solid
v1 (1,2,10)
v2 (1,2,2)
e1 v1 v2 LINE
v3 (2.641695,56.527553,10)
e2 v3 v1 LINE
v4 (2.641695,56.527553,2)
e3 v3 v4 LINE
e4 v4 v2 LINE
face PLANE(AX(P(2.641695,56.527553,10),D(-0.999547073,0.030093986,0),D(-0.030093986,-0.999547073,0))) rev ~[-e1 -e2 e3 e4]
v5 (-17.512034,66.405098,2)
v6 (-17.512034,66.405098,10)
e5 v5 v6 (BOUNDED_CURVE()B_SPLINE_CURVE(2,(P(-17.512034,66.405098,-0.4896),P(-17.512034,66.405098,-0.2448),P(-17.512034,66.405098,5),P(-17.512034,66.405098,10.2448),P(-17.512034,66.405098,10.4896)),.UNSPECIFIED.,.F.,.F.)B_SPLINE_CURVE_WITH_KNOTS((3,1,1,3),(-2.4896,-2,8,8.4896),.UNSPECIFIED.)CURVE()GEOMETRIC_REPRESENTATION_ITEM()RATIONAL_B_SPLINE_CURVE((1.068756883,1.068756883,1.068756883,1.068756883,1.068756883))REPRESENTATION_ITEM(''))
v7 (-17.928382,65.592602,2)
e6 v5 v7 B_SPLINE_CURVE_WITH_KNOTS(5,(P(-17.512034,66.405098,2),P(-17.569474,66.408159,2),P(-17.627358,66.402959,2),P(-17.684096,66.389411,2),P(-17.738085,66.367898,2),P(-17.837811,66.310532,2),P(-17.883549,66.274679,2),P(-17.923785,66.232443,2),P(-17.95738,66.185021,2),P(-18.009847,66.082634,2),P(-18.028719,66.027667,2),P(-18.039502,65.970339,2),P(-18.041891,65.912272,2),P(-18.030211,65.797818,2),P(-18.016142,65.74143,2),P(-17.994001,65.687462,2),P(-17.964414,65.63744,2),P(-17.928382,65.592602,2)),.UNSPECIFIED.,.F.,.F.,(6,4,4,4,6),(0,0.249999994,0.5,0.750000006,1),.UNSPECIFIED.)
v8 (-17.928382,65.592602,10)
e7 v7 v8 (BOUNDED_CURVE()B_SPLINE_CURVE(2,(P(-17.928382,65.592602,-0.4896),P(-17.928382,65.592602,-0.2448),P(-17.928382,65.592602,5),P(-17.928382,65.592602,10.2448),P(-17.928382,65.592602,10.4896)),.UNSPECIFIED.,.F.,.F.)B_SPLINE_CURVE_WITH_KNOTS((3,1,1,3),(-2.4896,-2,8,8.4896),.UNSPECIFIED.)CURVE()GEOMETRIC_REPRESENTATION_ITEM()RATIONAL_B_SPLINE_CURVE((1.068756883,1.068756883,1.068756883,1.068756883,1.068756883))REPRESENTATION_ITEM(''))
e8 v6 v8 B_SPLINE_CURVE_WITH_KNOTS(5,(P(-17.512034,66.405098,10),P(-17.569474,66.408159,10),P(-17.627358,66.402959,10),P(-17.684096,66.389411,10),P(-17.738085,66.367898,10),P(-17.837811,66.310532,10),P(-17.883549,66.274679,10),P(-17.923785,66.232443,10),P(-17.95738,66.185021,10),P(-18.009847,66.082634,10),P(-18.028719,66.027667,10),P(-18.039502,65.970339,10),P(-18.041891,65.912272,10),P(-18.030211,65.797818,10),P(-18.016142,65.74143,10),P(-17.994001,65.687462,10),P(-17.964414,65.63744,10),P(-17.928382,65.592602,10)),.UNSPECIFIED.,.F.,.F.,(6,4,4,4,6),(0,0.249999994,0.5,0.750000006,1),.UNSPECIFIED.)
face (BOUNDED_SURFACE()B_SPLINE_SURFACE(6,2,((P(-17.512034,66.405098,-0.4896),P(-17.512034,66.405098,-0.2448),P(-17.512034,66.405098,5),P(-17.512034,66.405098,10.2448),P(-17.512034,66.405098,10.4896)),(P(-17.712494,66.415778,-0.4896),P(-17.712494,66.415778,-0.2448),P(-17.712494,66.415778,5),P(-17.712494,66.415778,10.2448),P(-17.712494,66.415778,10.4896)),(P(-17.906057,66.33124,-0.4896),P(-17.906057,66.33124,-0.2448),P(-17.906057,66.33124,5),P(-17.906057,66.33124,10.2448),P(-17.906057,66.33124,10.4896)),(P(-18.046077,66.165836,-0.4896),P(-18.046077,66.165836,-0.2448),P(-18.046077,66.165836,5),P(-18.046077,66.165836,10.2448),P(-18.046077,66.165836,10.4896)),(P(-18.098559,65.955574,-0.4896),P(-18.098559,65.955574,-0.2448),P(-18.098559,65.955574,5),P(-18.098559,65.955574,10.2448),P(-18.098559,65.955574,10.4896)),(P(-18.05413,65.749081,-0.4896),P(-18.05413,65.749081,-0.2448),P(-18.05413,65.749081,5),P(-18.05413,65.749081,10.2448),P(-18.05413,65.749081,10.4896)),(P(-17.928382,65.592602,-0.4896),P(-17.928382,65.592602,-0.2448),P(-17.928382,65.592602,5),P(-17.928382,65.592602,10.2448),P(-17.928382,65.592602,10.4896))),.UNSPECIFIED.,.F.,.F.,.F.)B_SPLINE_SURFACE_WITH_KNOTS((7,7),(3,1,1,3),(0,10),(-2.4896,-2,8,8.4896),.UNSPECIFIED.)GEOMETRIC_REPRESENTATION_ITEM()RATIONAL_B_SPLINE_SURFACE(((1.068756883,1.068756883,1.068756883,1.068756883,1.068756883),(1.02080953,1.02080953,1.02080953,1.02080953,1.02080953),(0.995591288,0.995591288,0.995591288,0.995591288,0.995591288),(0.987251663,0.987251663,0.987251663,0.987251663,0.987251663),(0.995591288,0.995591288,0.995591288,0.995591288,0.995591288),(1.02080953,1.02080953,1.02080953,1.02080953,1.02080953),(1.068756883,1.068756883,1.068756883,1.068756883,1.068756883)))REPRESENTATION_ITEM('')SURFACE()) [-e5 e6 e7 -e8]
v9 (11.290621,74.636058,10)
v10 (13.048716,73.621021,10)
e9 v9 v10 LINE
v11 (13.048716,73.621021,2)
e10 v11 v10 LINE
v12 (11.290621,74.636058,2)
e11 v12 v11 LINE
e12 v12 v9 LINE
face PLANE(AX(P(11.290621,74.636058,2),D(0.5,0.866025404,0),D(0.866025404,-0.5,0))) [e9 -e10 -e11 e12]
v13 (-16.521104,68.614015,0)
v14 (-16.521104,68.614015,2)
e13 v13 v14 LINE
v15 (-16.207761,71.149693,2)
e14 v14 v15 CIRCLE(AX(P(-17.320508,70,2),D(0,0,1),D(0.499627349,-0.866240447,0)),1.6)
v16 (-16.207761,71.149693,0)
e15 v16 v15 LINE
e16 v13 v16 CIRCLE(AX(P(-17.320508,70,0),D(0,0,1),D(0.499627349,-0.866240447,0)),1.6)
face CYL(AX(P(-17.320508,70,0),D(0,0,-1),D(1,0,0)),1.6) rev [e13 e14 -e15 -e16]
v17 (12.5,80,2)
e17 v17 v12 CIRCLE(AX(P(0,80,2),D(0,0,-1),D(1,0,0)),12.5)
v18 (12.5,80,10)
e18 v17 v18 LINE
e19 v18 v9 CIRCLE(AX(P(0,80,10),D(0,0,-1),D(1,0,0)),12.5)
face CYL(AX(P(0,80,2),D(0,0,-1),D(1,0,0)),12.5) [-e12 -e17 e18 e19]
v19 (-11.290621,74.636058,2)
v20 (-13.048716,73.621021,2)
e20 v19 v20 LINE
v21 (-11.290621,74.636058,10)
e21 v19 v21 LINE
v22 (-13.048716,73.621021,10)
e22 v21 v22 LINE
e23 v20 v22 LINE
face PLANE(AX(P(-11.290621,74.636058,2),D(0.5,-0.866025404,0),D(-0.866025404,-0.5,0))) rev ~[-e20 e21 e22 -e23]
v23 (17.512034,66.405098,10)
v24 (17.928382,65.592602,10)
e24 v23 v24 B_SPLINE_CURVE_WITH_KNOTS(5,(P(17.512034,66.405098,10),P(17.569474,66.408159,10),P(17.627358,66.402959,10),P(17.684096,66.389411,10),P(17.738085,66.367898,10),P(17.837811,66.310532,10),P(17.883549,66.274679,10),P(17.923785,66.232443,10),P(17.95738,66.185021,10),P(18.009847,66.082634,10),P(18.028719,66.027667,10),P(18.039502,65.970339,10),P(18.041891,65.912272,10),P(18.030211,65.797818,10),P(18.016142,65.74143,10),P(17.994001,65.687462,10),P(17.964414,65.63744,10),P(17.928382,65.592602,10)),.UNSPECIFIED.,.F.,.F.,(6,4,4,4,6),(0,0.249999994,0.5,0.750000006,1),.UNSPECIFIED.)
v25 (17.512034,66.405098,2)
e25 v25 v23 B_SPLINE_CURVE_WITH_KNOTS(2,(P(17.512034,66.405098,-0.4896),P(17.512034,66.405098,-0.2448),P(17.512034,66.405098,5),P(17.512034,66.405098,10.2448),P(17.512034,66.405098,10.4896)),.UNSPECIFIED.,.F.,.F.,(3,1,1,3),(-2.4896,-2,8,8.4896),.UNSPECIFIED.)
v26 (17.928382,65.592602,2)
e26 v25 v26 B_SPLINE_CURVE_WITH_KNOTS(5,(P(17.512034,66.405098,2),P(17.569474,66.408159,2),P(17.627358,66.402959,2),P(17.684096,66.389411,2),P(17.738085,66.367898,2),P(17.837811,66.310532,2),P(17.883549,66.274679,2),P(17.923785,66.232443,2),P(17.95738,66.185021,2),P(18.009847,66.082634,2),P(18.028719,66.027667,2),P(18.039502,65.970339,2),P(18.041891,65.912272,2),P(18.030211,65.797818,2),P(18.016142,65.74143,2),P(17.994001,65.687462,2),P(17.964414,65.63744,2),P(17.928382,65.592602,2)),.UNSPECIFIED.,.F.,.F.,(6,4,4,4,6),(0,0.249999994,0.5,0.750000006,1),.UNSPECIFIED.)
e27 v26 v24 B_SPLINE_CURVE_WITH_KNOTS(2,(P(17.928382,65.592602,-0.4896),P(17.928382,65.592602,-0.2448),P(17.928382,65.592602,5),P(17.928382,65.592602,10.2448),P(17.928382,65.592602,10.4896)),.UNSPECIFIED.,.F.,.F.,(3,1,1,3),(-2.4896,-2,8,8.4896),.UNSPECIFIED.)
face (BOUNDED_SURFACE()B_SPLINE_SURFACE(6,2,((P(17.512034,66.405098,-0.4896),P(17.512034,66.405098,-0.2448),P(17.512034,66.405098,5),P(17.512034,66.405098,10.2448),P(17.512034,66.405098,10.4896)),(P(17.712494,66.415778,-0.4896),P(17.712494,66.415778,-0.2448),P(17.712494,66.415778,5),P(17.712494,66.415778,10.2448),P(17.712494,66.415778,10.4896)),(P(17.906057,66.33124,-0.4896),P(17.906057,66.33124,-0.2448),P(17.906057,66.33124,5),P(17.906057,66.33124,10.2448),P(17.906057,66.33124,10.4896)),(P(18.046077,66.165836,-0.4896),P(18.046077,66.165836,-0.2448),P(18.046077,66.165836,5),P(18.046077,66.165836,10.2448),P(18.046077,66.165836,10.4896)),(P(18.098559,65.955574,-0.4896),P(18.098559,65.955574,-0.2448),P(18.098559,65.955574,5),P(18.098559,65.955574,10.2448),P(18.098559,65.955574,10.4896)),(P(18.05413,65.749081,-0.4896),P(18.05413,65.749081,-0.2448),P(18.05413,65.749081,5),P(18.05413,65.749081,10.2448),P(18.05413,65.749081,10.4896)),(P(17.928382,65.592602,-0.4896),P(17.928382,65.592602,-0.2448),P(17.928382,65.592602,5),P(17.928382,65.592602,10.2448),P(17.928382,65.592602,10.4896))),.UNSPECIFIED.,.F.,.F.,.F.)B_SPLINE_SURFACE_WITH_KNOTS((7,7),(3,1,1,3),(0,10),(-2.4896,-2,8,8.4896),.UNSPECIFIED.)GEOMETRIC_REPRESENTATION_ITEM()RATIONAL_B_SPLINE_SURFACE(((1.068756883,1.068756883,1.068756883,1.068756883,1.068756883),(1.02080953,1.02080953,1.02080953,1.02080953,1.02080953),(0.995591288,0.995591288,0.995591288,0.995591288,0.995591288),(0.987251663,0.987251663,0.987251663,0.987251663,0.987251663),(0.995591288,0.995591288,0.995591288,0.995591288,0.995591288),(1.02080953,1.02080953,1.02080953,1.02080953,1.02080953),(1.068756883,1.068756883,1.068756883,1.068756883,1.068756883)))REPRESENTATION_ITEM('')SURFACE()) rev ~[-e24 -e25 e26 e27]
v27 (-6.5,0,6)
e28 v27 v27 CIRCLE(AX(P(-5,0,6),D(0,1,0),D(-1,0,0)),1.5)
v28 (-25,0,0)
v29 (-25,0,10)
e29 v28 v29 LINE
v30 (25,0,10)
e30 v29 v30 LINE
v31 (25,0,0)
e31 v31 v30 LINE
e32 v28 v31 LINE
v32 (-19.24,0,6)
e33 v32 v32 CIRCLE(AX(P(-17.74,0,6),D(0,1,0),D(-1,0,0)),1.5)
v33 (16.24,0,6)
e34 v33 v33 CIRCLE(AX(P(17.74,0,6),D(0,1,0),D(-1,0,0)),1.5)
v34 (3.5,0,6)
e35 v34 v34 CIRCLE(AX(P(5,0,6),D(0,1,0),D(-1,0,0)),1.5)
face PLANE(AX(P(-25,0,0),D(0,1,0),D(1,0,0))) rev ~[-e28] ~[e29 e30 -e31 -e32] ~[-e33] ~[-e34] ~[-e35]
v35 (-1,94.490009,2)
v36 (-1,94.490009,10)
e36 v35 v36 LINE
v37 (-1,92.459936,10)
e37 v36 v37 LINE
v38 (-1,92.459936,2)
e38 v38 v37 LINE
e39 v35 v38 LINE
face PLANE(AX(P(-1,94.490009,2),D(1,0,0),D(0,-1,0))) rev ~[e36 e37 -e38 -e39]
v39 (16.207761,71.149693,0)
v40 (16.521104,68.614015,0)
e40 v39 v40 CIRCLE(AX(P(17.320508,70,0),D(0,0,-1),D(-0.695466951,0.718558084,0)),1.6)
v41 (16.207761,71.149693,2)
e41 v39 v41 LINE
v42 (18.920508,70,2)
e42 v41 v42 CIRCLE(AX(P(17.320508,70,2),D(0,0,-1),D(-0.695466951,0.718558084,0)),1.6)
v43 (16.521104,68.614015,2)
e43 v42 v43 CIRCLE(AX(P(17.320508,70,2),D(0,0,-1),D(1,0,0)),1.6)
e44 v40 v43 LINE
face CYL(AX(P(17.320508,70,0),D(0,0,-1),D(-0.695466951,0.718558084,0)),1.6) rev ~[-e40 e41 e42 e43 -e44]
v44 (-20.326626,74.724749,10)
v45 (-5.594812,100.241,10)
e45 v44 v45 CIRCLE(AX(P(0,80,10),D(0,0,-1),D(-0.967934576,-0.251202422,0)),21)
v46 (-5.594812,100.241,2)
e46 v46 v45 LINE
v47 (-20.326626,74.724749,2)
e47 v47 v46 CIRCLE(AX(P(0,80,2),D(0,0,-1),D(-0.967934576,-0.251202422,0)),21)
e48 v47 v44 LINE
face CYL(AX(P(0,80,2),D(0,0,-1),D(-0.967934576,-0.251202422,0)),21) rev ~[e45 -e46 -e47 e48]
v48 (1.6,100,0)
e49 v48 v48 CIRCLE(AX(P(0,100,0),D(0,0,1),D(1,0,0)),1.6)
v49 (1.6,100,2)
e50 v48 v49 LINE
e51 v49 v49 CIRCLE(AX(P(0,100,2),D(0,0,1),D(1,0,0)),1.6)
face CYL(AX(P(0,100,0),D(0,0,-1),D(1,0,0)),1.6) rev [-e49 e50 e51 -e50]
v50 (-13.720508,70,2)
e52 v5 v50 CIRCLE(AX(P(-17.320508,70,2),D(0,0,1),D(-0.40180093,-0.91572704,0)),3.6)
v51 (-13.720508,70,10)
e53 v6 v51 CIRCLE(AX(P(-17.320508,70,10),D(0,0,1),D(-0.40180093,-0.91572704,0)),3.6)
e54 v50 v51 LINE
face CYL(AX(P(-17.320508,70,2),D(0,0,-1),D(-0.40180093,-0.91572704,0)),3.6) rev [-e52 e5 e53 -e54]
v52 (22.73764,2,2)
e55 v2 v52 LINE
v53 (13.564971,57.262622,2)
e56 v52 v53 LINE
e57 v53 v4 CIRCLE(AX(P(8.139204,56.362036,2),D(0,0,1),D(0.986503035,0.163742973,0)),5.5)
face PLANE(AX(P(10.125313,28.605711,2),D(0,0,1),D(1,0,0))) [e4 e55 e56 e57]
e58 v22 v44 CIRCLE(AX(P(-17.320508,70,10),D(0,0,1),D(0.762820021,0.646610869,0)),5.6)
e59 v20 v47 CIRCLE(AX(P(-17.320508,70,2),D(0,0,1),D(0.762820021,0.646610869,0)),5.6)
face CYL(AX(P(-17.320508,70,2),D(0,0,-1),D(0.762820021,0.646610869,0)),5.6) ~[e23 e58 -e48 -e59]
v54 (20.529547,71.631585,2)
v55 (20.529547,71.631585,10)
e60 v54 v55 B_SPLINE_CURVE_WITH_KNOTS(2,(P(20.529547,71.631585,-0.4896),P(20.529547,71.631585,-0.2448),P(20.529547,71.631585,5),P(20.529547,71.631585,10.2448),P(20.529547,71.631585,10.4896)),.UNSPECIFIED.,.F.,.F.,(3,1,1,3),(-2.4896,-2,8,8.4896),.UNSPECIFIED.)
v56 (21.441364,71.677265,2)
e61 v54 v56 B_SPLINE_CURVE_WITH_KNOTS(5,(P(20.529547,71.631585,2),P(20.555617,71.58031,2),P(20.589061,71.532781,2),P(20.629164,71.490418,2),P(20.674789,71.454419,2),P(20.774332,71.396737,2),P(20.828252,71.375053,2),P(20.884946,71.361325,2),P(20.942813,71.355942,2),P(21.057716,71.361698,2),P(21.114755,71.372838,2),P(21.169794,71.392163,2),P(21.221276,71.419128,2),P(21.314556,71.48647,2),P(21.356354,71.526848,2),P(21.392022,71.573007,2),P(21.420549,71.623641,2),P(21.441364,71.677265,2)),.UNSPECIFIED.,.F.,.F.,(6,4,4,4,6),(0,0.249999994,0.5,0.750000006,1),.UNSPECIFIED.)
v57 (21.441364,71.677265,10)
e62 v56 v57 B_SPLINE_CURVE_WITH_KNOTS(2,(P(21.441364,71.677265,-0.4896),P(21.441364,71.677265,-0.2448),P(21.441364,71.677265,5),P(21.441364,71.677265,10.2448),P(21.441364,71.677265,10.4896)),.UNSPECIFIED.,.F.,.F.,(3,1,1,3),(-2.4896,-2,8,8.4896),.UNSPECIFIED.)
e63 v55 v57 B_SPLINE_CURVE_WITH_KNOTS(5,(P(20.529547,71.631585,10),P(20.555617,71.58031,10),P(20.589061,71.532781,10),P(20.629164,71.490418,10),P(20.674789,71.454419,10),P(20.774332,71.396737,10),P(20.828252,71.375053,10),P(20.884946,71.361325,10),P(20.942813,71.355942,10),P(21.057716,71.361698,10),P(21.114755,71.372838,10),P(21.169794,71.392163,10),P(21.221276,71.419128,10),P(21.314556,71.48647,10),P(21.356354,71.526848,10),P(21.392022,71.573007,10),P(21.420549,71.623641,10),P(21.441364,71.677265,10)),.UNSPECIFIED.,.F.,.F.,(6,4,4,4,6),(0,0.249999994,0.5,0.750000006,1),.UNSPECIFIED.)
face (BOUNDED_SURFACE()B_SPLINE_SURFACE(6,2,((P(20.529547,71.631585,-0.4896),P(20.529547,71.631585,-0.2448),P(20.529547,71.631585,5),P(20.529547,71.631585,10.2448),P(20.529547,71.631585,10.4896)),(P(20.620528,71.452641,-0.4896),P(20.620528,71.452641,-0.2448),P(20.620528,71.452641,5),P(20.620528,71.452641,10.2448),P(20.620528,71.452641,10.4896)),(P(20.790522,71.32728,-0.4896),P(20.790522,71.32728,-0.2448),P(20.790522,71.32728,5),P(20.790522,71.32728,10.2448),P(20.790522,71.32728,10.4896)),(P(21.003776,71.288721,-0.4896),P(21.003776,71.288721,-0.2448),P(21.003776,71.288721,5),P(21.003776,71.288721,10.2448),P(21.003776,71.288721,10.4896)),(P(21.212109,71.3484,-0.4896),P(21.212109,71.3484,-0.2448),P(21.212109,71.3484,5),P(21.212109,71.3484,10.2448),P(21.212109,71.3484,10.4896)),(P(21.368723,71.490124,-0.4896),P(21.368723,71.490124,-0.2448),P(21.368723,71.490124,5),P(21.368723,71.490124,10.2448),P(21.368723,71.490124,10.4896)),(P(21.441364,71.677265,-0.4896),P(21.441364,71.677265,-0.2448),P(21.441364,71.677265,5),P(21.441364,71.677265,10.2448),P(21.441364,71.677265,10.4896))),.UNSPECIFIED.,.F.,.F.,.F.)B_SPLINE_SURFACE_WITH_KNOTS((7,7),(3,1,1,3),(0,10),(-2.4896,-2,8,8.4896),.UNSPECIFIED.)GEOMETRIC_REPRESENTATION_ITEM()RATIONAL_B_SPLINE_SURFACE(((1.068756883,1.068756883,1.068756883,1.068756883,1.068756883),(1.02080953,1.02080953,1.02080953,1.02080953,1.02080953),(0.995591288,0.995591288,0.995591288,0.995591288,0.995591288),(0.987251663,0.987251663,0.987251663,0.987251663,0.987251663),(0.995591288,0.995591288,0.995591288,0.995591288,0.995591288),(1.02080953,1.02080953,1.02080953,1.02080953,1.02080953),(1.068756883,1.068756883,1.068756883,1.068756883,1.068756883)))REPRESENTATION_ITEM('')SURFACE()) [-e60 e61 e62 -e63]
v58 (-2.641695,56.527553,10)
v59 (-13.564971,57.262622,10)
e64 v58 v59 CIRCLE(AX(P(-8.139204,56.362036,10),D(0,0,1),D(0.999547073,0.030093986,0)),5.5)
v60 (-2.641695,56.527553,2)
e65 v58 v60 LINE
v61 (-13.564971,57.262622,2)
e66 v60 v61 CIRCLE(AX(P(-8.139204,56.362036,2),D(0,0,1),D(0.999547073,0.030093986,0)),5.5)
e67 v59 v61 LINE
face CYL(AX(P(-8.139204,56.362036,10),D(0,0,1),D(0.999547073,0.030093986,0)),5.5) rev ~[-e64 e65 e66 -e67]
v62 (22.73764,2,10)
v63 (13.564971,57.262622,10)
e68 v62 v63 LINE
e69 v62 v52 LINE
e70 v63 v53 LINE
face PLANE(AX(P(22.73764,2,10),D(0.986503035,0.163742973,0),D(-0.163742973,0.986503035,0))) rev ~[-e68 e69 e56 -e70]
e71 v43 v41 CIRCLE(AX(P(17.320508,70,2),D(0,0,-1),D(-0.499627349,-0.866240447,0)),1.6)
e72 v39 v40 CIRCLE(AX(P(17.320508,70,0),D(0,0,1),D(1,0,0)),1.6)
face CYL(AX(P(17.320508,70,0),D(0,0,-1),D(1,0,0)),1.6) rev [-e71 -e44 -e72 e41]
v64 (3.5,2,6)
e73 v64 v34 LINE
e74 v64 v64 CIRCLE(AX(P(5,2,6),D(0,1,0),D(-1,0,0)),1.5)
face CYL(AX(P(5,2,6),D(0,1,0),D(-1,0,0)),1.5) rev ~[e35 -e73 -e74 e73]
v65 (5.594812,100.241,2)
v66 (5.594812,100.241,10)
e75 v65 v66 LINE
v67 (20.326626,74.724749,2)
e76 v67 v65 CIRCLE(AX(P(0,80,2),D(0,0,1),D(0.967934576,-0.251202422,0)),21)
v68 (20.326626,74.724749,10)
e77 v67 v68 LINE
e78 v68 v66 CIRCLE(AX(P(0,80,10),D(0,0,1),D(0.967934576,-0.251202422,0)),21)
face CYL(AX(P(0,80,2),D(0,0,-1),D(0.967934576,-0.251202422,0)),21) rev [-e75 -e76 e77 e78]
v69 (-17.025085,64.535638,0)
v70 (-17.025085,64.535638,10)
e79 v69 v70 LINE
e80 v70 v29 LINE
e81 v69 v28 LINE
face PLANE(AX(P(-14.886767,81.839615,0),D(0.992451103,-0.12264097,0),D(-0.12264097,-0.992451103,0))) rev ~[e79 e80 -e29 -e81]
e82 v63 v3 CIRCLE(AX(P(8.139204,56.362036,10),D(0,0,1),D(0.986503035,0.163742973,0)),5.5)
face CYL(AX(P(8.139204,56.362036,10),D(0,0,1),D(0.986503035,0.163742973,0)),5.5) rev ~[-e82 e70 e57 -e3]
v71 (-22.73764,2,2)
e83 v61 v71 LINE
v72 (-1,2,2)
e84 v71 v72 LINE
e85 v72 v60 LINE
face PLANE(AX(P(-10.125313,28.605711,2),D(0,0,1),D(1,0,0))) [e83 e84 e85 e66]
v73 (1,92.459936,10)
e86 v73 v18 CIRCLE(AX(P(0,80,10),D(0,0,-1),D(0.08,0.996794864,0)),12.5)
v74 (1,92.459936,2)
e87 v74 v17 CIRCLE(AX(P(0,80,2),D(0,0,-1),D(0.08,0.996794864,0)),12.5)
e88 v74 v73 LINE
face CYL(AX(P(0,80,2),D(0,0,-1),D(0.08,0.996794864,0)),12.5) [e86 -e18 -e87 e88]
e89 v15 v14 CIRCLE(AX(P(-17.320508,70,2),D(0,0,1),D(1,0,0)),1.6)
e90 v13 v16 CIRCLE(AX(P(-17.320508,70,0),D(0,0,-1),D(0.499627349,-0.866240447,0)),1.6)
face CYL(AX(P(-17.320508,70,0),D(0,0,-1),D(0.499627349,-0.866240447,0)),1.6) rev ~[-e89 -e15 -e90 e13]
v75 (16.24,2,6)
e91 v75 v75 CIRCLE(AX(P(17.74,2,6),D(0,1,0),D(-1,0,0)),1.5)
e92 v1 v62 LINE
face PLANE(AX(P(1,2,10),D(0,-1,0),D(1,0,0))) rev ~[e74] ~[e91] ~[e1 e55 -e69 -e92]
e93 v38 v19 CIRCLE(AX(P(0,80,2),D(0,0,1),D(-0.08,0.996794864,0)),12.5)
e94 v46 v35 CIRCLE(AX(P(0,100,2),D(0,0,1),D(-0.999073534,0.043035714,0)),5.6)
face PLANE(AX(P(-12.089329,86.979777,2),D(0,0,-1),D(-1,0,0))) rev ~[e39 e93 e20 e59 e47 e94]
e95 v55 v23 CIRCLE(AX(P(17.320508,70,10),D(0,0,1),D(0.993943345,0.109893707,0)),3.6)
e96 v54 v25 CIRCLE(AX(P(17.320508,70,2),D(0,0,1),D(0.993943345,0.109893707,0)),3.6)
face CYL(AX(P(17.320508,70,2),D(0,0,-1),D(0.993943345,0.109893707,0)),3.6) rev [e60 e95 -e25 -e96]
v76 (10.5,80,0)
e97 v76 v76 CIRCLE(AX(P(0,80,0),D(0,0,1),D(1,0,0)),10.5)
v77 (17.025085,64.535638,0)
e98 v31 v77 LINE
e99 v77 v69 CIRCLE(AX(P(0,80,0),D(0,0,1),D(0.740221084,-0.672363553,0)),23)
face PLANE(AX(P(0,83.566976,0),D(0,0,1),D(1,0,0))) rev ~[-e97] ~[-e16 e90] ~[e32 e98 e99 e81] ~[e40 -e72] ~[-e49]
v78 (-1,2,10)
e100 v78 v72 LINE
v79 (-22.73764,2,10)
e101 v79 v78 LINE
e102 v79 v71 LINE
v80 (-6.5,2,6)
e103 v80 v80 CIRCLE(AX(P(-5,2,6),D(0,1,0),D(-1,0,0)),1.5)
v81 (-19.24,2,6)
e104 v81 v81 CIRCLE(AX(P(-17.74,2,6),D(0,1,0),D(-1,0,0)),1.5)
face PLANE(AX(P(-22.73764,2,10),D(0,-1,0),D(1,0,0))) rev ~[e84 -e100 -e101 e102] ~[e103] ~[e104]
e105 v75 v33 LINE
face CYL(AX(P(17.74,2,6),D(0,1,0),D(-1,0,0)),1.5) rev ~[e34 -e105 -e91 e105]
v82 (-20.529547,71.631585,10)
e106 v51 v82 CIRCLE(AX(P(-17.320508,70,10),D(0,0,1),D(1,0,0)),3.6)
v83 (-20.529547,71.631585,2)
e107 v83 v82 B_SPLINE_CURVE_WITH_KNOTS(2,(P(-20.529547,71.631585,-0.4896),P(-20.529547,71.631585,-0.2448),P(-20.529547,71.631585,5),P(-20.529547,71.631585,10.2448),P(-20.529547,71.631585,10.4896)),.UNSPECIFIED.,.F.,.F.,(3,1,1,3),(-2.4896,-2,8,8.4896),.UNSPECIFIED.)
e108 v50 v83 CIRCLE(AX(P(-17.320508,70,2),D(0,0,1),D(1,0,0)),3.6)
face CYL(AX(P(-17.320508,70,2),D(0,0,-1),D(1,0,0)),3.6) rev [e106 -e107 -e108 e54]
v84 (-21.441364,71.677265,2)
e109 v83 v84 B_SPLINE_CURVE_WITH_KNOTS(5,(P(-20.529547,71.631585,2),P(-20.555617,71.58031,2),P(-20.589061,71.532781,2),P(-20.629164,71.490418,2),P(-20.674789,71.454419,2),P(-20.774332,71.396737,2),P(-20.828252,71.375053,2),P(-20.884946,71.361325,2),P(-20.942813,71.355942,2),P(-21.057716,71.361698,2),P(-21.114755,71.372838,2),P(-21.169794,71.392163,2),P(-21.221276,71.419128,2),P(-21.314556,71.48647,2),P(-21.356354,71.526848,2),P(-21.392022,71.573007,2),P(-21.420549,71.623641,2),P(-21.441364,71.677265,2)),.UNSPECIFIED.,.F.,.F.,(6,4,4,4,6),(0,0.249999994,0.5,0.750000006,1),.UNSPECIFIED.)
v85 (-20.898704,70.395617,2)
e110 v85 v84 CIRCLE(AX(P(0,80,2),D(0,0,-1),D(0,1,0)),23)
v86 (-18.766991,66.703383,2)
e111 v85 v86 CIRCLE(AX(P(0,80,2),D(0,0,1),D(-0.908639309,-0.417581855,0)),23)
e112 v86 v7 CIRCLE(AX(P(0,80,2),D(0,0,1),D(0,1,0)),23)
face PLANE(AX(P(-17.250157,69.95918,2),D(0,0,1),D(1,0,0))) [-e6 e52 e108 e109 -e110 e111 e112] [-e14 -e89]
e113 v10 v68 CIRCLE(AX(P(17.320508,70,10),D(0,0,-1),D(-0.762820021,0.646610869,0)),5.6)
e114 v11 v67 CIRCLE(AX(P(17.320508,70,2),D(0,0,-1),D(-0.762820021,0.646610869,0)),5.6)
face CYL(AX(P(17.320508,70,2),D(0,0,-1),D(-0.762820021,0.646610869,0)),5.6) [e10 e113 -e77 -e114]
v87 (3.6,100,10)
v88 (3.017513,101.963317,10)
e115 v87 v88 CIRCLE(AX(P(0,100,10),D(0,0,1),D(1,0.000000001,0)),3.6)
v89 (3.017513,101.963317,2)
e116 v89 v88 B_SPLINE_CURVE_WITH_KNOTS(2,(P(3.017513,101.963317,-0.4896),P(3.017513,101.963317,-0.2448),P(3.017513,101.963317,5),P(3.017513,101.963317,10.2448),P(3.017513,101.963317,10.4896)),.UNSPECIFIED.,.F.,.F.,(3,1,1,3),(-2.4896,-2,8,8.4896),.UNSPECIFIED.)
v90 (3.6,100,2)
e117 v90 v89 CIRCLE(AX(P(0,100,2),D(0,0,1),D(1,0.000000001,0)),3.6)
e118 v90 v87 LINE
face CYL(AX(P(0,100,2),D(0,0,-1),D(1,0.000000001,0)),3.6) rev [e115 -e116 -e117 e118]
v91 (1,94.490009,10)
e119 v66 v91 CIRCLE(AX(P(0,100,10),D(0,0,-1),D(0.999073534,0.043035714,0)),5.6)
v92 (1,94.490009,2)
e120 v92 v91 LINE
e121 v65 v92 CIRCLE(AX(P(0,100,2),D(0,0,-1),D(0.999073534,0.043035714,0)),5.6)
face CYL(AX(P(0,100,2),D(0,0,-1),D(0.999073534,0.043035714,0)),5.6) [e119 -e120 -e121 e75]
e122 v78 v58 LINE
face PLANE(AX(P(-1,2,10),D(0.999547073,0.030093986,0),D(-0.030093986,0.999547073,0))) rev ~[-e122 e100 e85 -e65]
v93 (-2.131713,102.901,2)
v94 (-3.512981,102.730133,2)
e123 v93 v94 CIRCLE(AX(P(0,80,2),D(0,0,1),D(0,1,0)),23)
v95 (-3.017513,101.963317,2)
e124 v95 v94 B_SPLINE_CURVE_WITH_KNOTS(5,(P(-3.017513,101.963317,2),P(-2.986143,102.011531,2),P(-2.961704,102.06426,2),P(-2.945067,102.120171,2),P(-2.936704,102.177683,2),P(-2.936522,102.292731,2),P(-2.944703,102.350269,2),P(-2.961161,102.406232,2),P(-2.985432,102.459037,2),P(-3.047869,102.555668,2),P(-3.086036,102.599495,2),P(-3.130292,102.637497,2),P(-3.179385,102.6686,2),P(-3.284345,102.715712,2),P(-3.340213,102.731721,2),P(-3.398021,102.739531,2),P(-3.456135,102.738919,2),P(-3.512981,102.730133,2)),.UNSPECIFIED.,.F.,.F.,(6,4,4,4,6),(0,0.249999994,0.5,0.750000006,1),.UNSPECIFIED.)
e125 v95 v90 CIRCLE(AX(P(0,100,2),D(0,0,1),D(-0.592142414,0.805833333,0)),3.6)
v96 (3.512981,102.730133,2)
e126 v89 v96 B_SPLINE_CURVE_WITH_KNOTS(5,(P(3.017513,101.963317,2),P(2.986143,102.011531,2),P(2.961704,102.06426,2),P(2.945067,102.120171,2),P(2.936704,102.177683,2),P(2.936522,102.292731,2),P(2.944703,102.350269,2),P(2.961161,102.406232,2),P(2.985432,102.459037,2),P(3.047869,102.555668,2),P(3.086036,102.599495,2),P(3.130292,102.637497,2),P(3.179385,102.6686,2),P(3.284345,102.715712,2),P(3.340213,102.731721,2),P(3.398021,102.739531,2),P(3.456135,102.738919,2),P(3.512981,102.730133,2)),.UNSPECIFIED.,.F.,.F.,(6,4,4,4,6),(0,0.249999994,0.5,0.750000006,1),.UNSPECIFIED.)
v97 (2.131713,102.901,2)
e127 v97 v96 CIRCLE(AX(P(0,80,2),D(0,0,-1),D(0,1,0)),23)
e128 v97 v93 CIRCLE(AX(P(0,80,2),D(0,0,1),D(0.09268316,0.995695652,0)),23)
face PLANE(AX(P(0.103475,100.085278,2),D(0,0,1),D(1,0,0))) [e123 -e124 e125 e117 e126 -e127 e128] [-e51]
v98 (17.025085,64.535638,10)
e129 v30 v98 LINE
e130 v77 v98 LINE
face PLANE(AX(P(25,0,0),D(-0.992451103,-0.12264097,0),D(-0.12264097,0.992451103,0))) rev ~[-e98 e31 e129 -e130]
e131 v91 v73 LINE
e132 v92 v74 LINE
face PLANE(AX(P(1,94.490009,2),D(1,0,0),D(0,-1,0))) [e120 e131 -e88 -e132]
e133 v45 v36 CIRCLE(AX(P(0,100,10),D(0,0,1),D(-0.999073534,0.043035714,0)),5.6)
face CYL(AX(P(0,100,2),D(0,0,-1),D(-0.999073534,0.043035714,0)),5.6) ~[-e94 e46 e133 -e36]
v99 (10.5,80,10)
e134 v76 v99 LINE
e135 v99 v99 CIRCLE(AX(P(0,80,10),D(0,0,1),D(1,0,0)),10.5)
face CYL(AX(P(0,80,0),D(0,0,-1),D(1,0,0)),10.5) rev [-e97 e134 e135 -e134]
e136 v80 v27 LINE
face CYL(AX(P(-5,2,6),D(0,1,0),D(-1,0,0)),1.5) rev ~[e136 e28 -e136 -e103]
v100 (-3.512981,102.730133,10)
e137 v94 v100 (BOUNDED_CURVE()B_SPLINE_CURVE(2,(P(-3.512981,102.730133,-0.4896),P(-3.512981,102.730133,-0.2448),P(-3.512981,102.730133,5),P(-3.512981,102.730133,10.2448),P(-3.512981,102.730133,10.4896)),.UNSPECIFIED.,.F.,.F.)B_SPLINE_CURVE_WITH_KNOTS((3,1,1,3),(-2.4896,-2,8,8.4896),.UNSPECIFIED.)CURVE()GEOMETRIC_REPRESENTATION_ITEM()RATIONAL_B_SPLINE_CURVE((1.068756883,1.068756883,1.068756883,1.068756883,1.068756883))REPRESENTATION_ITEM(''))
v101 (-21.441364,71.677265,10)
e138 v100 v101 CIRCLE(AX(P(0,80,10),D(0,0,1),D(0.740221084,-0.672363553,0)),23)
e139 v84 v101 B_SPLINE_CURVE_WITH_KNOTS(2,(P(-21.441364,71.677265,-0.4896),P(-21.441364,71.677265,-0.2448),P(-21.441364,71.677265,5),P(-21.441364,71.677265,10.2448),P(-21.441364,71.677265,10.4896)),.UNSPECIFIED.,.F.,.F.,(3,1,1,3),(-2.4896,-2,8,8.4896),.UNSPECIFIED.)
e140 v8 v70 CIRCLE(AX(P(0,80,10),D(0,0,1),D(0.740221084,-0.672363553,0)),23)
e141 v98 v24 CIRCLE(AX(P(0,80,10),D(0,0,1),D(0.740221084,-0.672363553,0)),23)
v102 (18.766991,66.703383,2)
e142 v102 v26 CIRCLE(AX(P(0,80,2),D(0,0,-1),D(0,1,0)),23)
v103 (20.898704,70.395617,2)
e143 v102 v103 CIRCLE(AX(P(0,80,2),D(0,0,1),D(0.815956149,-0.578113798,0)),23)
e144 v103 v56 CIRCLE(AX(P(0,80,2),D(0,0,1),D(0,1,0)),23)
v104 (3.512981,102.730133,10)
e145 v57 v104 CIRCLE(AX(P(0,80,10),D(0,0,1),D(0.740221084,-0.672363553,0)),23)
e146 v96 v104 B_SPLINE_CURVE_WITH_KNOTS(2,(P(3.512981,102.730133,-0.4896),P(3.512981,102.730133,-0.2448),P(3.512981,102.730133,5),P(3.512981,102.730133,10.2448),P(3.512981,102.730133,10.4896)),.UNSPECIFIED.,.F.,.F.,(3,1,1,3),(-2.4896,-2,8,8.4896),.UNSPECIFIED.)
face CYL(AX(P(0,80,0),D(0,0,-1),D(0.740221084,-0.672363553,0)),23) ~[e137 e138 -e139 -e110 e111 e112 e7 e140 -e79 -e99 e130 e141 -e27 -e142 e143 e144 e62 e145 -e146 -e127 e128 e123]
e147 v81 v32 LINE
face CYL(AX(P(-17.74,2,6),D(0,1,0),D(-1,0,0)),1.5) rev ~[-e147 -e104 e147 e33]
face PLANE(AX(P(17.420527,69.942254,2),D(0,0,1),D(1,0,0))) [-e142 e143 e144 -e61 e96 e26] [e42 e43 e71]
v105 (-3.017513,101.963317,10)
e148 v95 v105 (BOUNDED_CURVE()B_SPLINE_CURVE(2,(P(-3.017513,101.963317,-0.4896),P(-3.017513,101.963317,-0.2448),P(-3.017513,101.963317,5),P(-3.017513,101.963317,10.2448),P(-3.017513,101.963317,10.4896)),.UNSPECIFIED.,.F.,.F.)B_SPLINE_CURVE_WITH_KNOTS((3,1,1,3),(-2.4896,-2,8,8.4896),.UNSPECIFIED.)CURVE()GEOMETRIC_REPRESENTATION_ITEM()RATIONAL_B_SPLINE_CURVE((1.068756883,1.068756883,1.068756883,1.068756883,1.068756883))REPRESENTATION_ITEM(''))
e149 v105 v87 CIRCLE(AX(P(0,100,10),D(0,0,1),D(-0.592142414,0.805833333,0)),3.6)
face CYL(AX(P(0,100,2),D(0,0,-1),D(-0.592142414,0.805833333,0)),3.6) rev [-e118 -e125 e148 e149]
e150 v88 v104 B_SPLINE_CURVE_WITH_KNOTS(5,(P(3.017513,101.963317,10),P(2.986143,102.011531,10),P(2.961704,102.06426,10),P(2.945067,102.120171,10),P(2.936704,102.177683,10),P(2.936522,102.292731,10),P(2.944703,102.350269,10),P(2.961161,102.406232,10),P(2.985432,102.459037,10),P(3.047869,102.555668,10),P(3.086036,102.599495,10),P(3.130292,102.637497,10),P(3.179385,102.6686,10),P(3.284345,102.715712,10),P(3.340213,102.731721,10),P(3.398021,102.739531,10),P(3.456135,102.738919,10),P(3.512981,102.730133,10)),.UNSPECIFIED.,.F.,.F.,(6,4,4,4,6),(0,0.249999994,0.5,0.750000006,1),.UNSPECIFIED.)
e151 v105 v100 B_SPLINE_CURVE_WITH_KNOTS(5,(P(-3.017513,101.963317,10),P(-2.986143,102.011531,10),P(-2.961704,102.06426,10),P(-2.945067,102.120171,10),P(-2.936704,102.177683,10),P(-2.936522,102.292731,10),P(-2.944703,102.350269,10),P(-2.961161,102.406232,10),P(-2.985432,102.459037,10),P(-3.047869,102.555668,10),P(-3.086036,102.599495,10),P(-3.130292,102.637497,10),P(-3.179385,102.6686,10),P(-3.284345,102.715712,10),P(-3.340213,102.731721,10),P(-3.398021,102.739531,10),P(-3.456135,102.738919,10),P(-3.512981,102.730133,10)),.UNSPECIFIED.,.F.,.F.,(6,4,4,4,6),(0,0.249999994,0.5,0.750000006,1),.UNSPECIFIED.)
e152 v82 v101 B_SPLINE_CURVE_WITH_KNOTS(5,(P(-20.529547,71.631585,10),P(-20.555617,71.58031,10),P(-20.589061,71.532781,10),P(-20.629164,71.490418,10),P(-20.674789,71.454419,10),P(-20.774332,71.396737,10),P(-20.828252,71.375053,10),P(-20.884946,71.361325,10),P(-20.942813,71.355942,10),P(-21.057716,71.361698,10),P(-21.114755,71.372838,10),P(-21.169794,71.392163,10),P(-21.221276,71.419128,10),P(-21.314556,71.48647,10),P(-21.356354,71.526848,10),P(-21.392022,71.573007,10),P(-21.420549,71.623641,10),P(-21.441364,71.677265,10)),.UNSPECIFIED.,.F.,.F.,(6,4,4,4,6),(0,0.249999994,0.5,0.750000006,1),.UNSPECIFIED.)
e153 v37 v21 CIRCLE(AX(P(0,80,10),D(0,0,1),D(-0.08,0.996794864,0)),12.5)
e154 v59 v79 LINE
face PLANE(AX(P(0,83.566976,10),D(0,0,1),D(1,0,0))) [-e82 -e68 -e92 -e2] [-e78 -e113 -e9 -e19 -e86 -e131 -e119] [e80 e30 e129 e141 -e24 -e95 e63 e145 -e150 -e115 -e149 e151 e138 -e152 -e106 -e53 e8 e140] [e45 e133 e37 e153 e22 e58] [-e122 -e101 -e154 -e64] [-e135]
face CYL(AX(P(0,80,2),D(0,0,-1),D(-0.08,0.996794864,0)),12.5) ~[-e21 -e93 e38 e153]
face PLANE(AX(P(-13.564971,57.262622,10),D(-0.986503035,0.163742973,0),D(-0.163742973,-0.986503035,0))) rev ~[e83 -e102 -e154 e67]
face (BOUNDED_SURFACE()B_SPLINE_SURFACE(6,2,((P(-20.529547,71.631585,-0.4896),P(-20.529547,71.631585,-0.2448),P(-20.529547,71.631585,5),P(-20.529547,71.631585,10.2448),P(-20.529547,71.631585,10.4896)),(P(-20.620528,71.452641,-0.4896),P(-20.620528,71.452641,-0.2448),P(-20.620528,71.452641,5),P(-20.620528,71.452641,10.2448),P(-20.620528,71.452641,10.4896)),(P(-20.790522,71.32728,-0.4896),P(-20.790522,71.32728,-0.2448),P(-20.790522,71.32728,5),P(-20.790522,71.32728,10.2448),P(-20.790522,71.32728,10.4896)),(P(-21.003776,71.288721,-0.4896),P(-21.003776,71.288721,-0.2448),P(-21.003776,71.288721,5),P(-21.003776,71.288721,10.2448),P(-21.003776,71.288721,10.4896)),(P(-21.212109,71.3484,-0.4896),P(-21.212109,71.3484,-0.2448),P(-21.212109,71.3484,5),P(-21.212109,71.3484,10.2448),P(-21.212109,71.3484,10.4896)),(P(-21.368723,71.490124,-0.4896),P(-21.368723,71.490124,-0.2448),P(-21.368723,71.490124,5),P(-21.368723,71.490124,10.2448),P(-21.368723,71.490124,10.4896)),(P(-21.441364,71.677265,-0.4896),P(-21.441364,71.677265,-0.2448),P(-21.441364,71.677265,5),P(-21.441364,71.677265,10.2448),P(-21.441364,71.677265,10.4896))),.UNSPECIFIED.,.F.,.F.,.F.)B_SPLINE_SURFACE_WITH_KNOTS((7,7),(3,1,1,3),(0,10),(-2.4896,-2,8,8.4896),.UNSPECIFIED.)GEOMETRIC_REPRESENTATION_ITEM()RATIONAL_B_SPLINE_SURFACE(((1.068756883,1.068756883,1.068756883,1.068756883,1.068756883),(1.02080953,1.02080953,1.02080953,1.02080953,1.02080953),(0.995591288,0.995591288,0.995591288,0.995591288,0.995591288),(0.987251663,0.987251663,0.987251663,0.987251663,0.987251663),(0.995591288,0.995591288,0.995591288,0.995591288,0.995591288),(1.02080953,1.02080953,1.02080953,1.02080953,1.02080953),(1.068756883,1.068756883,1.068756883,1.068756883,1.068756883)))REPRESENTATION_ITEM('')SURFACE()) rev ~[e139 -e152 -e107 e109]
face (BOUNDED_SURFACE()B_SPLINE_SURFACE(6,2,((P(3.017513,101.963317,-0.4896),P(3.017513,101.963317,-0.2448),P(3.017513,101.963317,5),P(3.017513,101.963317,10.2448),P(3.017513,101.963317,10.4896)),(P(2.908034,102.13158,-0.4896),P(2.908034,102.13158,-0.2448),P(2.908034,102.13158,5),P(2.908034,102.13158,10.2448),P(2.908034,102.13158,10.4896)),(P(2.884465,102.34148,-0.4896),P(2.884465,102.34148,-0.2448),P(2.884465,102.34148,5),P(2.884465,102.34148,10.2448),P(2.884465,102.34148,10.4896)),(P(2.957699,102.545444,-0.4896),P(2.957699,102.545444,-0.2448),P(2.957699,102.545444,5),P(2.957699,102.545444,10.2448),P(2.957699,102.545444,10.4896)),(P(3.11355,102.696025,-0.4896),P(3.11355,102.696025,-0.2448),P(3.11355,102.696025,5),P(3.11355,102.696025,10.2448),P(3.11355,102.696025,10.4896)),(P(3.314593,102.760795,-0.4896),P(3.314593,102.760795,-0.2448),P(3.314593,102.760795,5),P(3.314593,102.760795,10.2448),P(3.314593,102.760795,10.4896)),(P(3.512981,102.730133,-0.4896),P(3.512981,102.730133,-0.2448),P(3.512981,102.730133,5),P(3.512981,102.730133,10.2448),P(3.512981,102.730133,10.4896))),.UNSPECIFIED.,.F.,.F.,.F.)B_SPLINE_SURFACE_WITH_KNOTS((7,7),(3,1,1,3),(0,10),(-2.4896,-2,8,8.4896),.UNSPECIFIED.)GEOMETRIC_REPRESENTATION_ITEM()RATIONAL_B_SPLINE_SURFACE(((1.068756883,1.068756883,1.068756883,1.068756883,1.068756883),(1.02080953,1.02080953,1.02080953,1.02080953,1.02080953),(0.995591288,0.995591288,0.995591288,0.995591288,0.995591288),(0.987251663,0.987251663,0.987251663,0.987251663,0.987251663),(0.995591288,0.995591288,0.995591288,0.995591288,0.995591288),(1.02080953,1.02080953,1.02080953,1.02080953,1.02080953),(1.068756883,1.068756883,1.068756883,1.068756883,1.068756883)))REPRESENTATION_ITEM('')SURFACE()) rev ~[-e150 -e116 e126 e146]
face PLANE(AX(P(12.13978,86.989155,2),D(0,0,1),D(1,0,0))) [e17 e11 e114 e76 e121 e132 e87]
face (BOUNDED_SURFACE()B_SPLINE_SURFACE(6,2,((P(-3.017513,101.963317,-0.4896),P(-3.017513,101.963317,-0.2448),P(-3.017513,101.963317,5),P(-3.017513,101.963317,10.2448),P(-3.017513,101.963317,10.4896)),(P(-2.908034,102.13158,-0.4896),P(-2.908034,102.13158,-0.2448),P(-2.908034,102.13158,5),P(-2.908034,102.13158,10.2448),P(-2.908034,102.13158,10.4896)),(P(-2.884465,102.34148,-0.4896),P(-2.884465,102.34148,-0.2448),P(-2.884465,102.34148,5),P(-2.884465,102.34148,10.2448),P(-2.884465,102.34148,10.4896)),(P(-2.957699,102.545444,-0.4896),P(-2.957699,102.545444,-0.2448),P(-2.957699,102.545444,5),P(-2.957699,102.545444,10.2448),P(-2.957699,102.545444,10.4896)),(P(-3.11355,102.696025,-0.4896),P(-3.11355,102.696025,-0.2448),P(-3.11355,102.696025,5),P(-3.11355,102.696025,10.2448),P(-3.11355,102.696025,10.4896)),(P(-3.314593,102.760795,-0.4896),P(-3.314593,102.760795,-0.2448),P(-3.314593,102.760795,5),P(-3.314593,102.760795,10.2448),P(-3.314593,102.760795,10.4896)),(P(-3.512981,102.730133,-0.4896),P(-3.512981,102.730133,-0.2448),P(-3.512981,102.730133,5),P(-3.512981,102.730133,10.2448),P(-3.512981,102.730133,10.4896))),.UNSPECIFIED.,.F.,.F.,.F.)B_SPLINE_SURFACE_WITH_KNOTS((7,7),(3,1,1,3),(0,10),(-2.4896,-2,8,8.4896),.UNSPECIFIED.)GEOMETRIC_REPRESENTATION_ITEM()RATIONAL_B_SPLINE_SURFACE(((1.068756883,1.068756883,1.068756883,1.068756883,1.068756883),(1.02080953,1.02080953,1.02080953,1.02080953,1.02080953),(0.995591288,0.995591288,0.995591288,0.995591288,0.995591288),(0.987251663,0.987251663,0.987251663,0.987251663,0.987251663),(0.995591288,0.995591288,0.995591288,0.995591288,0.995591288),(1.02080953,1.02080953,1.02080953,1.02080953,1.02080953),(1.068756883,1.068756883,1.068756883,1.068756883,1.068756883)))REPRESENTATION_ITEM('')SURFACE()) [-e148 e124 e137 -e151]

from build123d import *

# Parameters (mm, degrees)
SKETCH_1_R          = 10.5
EXTRUDE_1_DEPTH     = 10
CUT_EXTRUDE_2_DEPTH = 8
SKETCH_3_R          = 1.5
CUT_EXTRUDE_3_DEPTH = 97.81941954
EXTRUDE_START       = -10
SKETCH_4_R          = 1.6
EXTRUDE_3_DEPTH     = 10
CUT_EXTRUDE_START   = -10
SKETCH_5_R          = 1.6
CUT_EXTRUDE_4_DEPTH = 10
CUT_EXTRUDE_START_2 = -8
SKETCH_6_R          = 1.6
CUT_EXTRUDE_5_DEPTH = 8
FILLET_1_R          = 0.5


with BuildPart() as part:
    # 草图1 → 凸台-拉伸1 (new body)
    with BuildSketch(Plane.XY):
        with BuildLine():
            Line((-25, 0), (25, 0))
            Line((25, 0), (14.88676655, 81.839614547))
            ThreePointArc((14.88676655, 81.839614547), (0, 95), (-14.88676655, 81.839614547))
            Line((-14.88676655, 81.839614547), (-25, 0))
        make_face()
        with Locations((0, 80)):
            Circle(SKETCH_1_R, mode=Mode.SUBTRACT)
    extrude(amount=EXTRUDE_1_DEPTH)

    # 草图2 → 切除-拉伸2 (cut)
    with BuildSketch(Plane.XY.offset(10)):
        with BuildLine():
            Line((-13.564970556, 57.262621959), (-22.737639737, 2))
            Line((-22.737639737, 2), (-1, 2))
            Line((-1, 2), (-2.641694958, 56.527552532))
            ThreePointArc((-2.641694958, 56.527552532), (-7.769922801, 61.84962447), (-13.564970556, 57.262621959))
        make_face()
        with BuildLine():
            Line((2.641694958, 56.527552532), (1, 2))
            Line((1, 2), (22.737639737, 2))
            Line((22.737639737, 2), (13.564970556, 57.262621959))
            ThreePointArc((13.564970556, 57.262621959), (7.769922801, 61.84962447), (2.641694958, 56.527552532))
        make_face()
    extrude(amount=-CUT_EXTRUDE_2_DEPTH, mode=Mode.SUBTRACT)

    # 草图3 → 切除-拉伸3 (cut, through all)
    with BuildSketch(Plane(origin=(0, 2, 0), x_dir=(1, 0, 0), z_dir=(0, 1, 0))):
        with Locations(Location((-17.74, -6, 0), (0, 0, 180))):
            Circle(SKETCH_3_R)
        with Locations(Location((-5, -6, 0), (0, 0, 180))):
            Circle(SKETCH_3_R)
        with Locations(Location((5, -6, 0), (0, 0, 180))):
            Circle(SKETCH_3_R)
        with Locations(Location((17.74, -6, 0), (0, 0, 180))):
            Circle(SKETCH_3_R)
    extrude(amount=-CUT_EXTRUDE_3_DEPTH, mode=Mode.SUBTRACT)

    # 草图4 → 凸台-拉伸3 (add)
    with BuildSketch(Plane.XY.offset(10).offset(EXTRUDE_START)):
        with BuildLine():
            Line((16.521104317, 68.614015285), (17.025084925, 64.535638283))
            ThreePointArc((17.025084925, 64.535638283), (0, 103), (-17.025084925, 64.535638283))
            Line((-17.025084925, 64.535638283), (-16.521104317, 68.614015285))
            ThreePointArc((-16.521104317, 68.614015285), (-18.908429841, 70.196225552), (-16.207760954, 71.149692934))
            Line((-16.207760954, 71.149692934), (-14.88676655, 81.839614547))
            ThreePointArc((-14.88676655, 81.839614547), (0, 95), (14.88676655, 81.839614547))
            Line((14.88676655, 81.839614547), (16.207760954, 71.149692934))
            ThreePointArc((16.207760954, 71.149692934), (18.908429841, 70.196225552), (16.521104317, 68.614015285))
        make_face()
        with Locations((0, 100)):
            Circle(SKETCH_4_R, mode=Mode.SUBTRACT)
    extrude(amount=EXTRUDE_3_DEPTH)

    # 草图5 → 切除-拉伸4 (cut)
    with BuildSketch(Plane.XY.offset(10).offset(CUT_EXTRUDE_START)):
        with Locations((-17.320508076, 70)):
            Circle(SKETCH_5_R)
        with Locations((17.320508076, 70)):
            Circle(SKETCH_5_R)
    extrude(amount=CUT_EXTRUDE_4_DEPTH, mode=Mode.SUBTRACT)

    # 草图6 → 切除-拉伸5 (cut)
    # profile 1 of 5: a face of its own
    with BuildSketch(Plane.XY.offset(10).offset(CUT_EXTRUDE_START_2)):
        with BuildLine():
            ThreePointArc((-13.04871596, 73.621020867), (-16.480843406, 75.536692446), (-20.326626095, 74.724749142))
            ThreePointArc((-20.326626095, 74.724749142), (-18.186533479, 90.5), (-5.594811793, 100.241))
            ThreePointArc((-5.594811793, 100.241), (-4.375083977, 96.504482843), (-1, 94.490009074))
            Line((-1, 94.490009074), (-1, 92.459935794))
            ThreePointArc((-1, 92.459935794), (-10.825317547, 86.25), (-11.290620927, 74.636057507))
            Line((-11.290620927, 74.636057507), (-13.04871596, 73.621020867))
        make_face()
    # profile 2 of 5: a face of its own
    with BuildSketch(Plane.XY.offset(10).offset(CUT_EXTRUDE_START_2)):
        with BuildLine():
            ThreePointArc((2.131712692, 102.901), (0, 103), (-2.131712692, 102.901))
            ThreePointArc((-2.131712692, 102.901), (-1.625705125, 96.787978387), (3.6, 100))
            ThreePointArc((3.6, 100), (3.212021613, 101.625705125), (2.131712692, 102.901))
        make_face()
        with Locations((0, 100)):
            Circle(SKETCH_6_R, mode=Mode.SUBTRACT)
    # profile 3 of 5: a face of its own
    with BuildSketch(Plane.XY.offset(10).offset(CUT_EXTRUDE_START_2)):
        with BuildLine():
            ThreePointArc((12.5, 80), (12.193907528, 77.25070569), (11.290620927, 74.636057507))
            Line((11.290620927, 74.636057507), (13.04871596, 73.621020867))
            ThreePointArc((13.04871596, 73.621020867), (16.480843406, 75.536692446), (20.326626095, 74.724749142))
            ThreePointArc((20.326626095, 74.724749142), (18.186533479, 90.5), (5.594811793, 100.241))
            ThreePointArc((5.594811793, 100.241), (4.375083977, 96.504482843), (1, 94.490009074))
            Line((1, 94.490009074), (1, 92.459935794))
            ThreePointArc((1, 92.459935794), (9.185586535, 88.477912479), (12.5, 80))
        make_face()
    # profile 4 of 5: a face of its own
    with BuildSketch(Plane.XY.offset(10).offset(CUT_EXTRUDE_START_2)):
        with BuildLine():
            ThreePointArc((18.766991426, 66.703382655), (19.918584287, 68.5), (20.898704118, 70.395617345))
            ThreePointArc((20.898704118, 70.395617345), (14.202816622, 71.8), (18.766991426, 66.703382655))
        make_face()
        with BuildLine():
            ThreePointArc((16.207760954, 71.149692934), (17.944849571, 71.473159088), (18.920508076, 70))
            ThreePointArc((18.920508076, 70), (18.120806141, 68.614531485), (16.521104317, 68.614015285))
            ThreePointArc((16.521104317, 68.614015285), (15.73258631, 69.803774448), (16.207760954, 71.149692934))
        make_face(mode=Mode.SUBTRACT)
    # profile 5 of 5: a face of its own
    with BuildSketch(Plane.XY.offset(10).offset(CUT_EXTRUDE_START_2)):
        with BuildLine():
            ThreePointArc((-18.766991426, 66.703382655), (-15.351668324, 66.986087256), (-13.720508076, 70))
            ThreePointArc((-13.720508076, 70), (-17.122399207, 73.594544877), (-20.898704118, 70.395617345))
            ThreePointArc((-20.898704118, 70.395617345), (-19.918584287, 68.5), (-18.766991426, 66.703382655))
        make_face()
        with Locations((-17.320508076, 70)):
            Circle(SKETCH_6_R, mode=Mode.SUBTRACT)
    extrude(amount=CUT_EXTRUDE_5_DEPTH, mode=Mode.SUBTRACT)

    # 圆角1
    fillet_1_edges = [part.edges().sort_by_distance(p)[0] for p in [
        (-2.131712692, 102.901, 6),
        (2.131712692, 102.901, 6),
        (20.898704118, 70.395617345, 6),
        (18.766991426, 66.703382655, 6),
        (-18.766991426, 66.703382655, 6),
        (-20.898704118, 70.395617345, 6),
    ]]
    fillet(fillet_1_edges, radius=FILLET_1_R)


solid = part.part
